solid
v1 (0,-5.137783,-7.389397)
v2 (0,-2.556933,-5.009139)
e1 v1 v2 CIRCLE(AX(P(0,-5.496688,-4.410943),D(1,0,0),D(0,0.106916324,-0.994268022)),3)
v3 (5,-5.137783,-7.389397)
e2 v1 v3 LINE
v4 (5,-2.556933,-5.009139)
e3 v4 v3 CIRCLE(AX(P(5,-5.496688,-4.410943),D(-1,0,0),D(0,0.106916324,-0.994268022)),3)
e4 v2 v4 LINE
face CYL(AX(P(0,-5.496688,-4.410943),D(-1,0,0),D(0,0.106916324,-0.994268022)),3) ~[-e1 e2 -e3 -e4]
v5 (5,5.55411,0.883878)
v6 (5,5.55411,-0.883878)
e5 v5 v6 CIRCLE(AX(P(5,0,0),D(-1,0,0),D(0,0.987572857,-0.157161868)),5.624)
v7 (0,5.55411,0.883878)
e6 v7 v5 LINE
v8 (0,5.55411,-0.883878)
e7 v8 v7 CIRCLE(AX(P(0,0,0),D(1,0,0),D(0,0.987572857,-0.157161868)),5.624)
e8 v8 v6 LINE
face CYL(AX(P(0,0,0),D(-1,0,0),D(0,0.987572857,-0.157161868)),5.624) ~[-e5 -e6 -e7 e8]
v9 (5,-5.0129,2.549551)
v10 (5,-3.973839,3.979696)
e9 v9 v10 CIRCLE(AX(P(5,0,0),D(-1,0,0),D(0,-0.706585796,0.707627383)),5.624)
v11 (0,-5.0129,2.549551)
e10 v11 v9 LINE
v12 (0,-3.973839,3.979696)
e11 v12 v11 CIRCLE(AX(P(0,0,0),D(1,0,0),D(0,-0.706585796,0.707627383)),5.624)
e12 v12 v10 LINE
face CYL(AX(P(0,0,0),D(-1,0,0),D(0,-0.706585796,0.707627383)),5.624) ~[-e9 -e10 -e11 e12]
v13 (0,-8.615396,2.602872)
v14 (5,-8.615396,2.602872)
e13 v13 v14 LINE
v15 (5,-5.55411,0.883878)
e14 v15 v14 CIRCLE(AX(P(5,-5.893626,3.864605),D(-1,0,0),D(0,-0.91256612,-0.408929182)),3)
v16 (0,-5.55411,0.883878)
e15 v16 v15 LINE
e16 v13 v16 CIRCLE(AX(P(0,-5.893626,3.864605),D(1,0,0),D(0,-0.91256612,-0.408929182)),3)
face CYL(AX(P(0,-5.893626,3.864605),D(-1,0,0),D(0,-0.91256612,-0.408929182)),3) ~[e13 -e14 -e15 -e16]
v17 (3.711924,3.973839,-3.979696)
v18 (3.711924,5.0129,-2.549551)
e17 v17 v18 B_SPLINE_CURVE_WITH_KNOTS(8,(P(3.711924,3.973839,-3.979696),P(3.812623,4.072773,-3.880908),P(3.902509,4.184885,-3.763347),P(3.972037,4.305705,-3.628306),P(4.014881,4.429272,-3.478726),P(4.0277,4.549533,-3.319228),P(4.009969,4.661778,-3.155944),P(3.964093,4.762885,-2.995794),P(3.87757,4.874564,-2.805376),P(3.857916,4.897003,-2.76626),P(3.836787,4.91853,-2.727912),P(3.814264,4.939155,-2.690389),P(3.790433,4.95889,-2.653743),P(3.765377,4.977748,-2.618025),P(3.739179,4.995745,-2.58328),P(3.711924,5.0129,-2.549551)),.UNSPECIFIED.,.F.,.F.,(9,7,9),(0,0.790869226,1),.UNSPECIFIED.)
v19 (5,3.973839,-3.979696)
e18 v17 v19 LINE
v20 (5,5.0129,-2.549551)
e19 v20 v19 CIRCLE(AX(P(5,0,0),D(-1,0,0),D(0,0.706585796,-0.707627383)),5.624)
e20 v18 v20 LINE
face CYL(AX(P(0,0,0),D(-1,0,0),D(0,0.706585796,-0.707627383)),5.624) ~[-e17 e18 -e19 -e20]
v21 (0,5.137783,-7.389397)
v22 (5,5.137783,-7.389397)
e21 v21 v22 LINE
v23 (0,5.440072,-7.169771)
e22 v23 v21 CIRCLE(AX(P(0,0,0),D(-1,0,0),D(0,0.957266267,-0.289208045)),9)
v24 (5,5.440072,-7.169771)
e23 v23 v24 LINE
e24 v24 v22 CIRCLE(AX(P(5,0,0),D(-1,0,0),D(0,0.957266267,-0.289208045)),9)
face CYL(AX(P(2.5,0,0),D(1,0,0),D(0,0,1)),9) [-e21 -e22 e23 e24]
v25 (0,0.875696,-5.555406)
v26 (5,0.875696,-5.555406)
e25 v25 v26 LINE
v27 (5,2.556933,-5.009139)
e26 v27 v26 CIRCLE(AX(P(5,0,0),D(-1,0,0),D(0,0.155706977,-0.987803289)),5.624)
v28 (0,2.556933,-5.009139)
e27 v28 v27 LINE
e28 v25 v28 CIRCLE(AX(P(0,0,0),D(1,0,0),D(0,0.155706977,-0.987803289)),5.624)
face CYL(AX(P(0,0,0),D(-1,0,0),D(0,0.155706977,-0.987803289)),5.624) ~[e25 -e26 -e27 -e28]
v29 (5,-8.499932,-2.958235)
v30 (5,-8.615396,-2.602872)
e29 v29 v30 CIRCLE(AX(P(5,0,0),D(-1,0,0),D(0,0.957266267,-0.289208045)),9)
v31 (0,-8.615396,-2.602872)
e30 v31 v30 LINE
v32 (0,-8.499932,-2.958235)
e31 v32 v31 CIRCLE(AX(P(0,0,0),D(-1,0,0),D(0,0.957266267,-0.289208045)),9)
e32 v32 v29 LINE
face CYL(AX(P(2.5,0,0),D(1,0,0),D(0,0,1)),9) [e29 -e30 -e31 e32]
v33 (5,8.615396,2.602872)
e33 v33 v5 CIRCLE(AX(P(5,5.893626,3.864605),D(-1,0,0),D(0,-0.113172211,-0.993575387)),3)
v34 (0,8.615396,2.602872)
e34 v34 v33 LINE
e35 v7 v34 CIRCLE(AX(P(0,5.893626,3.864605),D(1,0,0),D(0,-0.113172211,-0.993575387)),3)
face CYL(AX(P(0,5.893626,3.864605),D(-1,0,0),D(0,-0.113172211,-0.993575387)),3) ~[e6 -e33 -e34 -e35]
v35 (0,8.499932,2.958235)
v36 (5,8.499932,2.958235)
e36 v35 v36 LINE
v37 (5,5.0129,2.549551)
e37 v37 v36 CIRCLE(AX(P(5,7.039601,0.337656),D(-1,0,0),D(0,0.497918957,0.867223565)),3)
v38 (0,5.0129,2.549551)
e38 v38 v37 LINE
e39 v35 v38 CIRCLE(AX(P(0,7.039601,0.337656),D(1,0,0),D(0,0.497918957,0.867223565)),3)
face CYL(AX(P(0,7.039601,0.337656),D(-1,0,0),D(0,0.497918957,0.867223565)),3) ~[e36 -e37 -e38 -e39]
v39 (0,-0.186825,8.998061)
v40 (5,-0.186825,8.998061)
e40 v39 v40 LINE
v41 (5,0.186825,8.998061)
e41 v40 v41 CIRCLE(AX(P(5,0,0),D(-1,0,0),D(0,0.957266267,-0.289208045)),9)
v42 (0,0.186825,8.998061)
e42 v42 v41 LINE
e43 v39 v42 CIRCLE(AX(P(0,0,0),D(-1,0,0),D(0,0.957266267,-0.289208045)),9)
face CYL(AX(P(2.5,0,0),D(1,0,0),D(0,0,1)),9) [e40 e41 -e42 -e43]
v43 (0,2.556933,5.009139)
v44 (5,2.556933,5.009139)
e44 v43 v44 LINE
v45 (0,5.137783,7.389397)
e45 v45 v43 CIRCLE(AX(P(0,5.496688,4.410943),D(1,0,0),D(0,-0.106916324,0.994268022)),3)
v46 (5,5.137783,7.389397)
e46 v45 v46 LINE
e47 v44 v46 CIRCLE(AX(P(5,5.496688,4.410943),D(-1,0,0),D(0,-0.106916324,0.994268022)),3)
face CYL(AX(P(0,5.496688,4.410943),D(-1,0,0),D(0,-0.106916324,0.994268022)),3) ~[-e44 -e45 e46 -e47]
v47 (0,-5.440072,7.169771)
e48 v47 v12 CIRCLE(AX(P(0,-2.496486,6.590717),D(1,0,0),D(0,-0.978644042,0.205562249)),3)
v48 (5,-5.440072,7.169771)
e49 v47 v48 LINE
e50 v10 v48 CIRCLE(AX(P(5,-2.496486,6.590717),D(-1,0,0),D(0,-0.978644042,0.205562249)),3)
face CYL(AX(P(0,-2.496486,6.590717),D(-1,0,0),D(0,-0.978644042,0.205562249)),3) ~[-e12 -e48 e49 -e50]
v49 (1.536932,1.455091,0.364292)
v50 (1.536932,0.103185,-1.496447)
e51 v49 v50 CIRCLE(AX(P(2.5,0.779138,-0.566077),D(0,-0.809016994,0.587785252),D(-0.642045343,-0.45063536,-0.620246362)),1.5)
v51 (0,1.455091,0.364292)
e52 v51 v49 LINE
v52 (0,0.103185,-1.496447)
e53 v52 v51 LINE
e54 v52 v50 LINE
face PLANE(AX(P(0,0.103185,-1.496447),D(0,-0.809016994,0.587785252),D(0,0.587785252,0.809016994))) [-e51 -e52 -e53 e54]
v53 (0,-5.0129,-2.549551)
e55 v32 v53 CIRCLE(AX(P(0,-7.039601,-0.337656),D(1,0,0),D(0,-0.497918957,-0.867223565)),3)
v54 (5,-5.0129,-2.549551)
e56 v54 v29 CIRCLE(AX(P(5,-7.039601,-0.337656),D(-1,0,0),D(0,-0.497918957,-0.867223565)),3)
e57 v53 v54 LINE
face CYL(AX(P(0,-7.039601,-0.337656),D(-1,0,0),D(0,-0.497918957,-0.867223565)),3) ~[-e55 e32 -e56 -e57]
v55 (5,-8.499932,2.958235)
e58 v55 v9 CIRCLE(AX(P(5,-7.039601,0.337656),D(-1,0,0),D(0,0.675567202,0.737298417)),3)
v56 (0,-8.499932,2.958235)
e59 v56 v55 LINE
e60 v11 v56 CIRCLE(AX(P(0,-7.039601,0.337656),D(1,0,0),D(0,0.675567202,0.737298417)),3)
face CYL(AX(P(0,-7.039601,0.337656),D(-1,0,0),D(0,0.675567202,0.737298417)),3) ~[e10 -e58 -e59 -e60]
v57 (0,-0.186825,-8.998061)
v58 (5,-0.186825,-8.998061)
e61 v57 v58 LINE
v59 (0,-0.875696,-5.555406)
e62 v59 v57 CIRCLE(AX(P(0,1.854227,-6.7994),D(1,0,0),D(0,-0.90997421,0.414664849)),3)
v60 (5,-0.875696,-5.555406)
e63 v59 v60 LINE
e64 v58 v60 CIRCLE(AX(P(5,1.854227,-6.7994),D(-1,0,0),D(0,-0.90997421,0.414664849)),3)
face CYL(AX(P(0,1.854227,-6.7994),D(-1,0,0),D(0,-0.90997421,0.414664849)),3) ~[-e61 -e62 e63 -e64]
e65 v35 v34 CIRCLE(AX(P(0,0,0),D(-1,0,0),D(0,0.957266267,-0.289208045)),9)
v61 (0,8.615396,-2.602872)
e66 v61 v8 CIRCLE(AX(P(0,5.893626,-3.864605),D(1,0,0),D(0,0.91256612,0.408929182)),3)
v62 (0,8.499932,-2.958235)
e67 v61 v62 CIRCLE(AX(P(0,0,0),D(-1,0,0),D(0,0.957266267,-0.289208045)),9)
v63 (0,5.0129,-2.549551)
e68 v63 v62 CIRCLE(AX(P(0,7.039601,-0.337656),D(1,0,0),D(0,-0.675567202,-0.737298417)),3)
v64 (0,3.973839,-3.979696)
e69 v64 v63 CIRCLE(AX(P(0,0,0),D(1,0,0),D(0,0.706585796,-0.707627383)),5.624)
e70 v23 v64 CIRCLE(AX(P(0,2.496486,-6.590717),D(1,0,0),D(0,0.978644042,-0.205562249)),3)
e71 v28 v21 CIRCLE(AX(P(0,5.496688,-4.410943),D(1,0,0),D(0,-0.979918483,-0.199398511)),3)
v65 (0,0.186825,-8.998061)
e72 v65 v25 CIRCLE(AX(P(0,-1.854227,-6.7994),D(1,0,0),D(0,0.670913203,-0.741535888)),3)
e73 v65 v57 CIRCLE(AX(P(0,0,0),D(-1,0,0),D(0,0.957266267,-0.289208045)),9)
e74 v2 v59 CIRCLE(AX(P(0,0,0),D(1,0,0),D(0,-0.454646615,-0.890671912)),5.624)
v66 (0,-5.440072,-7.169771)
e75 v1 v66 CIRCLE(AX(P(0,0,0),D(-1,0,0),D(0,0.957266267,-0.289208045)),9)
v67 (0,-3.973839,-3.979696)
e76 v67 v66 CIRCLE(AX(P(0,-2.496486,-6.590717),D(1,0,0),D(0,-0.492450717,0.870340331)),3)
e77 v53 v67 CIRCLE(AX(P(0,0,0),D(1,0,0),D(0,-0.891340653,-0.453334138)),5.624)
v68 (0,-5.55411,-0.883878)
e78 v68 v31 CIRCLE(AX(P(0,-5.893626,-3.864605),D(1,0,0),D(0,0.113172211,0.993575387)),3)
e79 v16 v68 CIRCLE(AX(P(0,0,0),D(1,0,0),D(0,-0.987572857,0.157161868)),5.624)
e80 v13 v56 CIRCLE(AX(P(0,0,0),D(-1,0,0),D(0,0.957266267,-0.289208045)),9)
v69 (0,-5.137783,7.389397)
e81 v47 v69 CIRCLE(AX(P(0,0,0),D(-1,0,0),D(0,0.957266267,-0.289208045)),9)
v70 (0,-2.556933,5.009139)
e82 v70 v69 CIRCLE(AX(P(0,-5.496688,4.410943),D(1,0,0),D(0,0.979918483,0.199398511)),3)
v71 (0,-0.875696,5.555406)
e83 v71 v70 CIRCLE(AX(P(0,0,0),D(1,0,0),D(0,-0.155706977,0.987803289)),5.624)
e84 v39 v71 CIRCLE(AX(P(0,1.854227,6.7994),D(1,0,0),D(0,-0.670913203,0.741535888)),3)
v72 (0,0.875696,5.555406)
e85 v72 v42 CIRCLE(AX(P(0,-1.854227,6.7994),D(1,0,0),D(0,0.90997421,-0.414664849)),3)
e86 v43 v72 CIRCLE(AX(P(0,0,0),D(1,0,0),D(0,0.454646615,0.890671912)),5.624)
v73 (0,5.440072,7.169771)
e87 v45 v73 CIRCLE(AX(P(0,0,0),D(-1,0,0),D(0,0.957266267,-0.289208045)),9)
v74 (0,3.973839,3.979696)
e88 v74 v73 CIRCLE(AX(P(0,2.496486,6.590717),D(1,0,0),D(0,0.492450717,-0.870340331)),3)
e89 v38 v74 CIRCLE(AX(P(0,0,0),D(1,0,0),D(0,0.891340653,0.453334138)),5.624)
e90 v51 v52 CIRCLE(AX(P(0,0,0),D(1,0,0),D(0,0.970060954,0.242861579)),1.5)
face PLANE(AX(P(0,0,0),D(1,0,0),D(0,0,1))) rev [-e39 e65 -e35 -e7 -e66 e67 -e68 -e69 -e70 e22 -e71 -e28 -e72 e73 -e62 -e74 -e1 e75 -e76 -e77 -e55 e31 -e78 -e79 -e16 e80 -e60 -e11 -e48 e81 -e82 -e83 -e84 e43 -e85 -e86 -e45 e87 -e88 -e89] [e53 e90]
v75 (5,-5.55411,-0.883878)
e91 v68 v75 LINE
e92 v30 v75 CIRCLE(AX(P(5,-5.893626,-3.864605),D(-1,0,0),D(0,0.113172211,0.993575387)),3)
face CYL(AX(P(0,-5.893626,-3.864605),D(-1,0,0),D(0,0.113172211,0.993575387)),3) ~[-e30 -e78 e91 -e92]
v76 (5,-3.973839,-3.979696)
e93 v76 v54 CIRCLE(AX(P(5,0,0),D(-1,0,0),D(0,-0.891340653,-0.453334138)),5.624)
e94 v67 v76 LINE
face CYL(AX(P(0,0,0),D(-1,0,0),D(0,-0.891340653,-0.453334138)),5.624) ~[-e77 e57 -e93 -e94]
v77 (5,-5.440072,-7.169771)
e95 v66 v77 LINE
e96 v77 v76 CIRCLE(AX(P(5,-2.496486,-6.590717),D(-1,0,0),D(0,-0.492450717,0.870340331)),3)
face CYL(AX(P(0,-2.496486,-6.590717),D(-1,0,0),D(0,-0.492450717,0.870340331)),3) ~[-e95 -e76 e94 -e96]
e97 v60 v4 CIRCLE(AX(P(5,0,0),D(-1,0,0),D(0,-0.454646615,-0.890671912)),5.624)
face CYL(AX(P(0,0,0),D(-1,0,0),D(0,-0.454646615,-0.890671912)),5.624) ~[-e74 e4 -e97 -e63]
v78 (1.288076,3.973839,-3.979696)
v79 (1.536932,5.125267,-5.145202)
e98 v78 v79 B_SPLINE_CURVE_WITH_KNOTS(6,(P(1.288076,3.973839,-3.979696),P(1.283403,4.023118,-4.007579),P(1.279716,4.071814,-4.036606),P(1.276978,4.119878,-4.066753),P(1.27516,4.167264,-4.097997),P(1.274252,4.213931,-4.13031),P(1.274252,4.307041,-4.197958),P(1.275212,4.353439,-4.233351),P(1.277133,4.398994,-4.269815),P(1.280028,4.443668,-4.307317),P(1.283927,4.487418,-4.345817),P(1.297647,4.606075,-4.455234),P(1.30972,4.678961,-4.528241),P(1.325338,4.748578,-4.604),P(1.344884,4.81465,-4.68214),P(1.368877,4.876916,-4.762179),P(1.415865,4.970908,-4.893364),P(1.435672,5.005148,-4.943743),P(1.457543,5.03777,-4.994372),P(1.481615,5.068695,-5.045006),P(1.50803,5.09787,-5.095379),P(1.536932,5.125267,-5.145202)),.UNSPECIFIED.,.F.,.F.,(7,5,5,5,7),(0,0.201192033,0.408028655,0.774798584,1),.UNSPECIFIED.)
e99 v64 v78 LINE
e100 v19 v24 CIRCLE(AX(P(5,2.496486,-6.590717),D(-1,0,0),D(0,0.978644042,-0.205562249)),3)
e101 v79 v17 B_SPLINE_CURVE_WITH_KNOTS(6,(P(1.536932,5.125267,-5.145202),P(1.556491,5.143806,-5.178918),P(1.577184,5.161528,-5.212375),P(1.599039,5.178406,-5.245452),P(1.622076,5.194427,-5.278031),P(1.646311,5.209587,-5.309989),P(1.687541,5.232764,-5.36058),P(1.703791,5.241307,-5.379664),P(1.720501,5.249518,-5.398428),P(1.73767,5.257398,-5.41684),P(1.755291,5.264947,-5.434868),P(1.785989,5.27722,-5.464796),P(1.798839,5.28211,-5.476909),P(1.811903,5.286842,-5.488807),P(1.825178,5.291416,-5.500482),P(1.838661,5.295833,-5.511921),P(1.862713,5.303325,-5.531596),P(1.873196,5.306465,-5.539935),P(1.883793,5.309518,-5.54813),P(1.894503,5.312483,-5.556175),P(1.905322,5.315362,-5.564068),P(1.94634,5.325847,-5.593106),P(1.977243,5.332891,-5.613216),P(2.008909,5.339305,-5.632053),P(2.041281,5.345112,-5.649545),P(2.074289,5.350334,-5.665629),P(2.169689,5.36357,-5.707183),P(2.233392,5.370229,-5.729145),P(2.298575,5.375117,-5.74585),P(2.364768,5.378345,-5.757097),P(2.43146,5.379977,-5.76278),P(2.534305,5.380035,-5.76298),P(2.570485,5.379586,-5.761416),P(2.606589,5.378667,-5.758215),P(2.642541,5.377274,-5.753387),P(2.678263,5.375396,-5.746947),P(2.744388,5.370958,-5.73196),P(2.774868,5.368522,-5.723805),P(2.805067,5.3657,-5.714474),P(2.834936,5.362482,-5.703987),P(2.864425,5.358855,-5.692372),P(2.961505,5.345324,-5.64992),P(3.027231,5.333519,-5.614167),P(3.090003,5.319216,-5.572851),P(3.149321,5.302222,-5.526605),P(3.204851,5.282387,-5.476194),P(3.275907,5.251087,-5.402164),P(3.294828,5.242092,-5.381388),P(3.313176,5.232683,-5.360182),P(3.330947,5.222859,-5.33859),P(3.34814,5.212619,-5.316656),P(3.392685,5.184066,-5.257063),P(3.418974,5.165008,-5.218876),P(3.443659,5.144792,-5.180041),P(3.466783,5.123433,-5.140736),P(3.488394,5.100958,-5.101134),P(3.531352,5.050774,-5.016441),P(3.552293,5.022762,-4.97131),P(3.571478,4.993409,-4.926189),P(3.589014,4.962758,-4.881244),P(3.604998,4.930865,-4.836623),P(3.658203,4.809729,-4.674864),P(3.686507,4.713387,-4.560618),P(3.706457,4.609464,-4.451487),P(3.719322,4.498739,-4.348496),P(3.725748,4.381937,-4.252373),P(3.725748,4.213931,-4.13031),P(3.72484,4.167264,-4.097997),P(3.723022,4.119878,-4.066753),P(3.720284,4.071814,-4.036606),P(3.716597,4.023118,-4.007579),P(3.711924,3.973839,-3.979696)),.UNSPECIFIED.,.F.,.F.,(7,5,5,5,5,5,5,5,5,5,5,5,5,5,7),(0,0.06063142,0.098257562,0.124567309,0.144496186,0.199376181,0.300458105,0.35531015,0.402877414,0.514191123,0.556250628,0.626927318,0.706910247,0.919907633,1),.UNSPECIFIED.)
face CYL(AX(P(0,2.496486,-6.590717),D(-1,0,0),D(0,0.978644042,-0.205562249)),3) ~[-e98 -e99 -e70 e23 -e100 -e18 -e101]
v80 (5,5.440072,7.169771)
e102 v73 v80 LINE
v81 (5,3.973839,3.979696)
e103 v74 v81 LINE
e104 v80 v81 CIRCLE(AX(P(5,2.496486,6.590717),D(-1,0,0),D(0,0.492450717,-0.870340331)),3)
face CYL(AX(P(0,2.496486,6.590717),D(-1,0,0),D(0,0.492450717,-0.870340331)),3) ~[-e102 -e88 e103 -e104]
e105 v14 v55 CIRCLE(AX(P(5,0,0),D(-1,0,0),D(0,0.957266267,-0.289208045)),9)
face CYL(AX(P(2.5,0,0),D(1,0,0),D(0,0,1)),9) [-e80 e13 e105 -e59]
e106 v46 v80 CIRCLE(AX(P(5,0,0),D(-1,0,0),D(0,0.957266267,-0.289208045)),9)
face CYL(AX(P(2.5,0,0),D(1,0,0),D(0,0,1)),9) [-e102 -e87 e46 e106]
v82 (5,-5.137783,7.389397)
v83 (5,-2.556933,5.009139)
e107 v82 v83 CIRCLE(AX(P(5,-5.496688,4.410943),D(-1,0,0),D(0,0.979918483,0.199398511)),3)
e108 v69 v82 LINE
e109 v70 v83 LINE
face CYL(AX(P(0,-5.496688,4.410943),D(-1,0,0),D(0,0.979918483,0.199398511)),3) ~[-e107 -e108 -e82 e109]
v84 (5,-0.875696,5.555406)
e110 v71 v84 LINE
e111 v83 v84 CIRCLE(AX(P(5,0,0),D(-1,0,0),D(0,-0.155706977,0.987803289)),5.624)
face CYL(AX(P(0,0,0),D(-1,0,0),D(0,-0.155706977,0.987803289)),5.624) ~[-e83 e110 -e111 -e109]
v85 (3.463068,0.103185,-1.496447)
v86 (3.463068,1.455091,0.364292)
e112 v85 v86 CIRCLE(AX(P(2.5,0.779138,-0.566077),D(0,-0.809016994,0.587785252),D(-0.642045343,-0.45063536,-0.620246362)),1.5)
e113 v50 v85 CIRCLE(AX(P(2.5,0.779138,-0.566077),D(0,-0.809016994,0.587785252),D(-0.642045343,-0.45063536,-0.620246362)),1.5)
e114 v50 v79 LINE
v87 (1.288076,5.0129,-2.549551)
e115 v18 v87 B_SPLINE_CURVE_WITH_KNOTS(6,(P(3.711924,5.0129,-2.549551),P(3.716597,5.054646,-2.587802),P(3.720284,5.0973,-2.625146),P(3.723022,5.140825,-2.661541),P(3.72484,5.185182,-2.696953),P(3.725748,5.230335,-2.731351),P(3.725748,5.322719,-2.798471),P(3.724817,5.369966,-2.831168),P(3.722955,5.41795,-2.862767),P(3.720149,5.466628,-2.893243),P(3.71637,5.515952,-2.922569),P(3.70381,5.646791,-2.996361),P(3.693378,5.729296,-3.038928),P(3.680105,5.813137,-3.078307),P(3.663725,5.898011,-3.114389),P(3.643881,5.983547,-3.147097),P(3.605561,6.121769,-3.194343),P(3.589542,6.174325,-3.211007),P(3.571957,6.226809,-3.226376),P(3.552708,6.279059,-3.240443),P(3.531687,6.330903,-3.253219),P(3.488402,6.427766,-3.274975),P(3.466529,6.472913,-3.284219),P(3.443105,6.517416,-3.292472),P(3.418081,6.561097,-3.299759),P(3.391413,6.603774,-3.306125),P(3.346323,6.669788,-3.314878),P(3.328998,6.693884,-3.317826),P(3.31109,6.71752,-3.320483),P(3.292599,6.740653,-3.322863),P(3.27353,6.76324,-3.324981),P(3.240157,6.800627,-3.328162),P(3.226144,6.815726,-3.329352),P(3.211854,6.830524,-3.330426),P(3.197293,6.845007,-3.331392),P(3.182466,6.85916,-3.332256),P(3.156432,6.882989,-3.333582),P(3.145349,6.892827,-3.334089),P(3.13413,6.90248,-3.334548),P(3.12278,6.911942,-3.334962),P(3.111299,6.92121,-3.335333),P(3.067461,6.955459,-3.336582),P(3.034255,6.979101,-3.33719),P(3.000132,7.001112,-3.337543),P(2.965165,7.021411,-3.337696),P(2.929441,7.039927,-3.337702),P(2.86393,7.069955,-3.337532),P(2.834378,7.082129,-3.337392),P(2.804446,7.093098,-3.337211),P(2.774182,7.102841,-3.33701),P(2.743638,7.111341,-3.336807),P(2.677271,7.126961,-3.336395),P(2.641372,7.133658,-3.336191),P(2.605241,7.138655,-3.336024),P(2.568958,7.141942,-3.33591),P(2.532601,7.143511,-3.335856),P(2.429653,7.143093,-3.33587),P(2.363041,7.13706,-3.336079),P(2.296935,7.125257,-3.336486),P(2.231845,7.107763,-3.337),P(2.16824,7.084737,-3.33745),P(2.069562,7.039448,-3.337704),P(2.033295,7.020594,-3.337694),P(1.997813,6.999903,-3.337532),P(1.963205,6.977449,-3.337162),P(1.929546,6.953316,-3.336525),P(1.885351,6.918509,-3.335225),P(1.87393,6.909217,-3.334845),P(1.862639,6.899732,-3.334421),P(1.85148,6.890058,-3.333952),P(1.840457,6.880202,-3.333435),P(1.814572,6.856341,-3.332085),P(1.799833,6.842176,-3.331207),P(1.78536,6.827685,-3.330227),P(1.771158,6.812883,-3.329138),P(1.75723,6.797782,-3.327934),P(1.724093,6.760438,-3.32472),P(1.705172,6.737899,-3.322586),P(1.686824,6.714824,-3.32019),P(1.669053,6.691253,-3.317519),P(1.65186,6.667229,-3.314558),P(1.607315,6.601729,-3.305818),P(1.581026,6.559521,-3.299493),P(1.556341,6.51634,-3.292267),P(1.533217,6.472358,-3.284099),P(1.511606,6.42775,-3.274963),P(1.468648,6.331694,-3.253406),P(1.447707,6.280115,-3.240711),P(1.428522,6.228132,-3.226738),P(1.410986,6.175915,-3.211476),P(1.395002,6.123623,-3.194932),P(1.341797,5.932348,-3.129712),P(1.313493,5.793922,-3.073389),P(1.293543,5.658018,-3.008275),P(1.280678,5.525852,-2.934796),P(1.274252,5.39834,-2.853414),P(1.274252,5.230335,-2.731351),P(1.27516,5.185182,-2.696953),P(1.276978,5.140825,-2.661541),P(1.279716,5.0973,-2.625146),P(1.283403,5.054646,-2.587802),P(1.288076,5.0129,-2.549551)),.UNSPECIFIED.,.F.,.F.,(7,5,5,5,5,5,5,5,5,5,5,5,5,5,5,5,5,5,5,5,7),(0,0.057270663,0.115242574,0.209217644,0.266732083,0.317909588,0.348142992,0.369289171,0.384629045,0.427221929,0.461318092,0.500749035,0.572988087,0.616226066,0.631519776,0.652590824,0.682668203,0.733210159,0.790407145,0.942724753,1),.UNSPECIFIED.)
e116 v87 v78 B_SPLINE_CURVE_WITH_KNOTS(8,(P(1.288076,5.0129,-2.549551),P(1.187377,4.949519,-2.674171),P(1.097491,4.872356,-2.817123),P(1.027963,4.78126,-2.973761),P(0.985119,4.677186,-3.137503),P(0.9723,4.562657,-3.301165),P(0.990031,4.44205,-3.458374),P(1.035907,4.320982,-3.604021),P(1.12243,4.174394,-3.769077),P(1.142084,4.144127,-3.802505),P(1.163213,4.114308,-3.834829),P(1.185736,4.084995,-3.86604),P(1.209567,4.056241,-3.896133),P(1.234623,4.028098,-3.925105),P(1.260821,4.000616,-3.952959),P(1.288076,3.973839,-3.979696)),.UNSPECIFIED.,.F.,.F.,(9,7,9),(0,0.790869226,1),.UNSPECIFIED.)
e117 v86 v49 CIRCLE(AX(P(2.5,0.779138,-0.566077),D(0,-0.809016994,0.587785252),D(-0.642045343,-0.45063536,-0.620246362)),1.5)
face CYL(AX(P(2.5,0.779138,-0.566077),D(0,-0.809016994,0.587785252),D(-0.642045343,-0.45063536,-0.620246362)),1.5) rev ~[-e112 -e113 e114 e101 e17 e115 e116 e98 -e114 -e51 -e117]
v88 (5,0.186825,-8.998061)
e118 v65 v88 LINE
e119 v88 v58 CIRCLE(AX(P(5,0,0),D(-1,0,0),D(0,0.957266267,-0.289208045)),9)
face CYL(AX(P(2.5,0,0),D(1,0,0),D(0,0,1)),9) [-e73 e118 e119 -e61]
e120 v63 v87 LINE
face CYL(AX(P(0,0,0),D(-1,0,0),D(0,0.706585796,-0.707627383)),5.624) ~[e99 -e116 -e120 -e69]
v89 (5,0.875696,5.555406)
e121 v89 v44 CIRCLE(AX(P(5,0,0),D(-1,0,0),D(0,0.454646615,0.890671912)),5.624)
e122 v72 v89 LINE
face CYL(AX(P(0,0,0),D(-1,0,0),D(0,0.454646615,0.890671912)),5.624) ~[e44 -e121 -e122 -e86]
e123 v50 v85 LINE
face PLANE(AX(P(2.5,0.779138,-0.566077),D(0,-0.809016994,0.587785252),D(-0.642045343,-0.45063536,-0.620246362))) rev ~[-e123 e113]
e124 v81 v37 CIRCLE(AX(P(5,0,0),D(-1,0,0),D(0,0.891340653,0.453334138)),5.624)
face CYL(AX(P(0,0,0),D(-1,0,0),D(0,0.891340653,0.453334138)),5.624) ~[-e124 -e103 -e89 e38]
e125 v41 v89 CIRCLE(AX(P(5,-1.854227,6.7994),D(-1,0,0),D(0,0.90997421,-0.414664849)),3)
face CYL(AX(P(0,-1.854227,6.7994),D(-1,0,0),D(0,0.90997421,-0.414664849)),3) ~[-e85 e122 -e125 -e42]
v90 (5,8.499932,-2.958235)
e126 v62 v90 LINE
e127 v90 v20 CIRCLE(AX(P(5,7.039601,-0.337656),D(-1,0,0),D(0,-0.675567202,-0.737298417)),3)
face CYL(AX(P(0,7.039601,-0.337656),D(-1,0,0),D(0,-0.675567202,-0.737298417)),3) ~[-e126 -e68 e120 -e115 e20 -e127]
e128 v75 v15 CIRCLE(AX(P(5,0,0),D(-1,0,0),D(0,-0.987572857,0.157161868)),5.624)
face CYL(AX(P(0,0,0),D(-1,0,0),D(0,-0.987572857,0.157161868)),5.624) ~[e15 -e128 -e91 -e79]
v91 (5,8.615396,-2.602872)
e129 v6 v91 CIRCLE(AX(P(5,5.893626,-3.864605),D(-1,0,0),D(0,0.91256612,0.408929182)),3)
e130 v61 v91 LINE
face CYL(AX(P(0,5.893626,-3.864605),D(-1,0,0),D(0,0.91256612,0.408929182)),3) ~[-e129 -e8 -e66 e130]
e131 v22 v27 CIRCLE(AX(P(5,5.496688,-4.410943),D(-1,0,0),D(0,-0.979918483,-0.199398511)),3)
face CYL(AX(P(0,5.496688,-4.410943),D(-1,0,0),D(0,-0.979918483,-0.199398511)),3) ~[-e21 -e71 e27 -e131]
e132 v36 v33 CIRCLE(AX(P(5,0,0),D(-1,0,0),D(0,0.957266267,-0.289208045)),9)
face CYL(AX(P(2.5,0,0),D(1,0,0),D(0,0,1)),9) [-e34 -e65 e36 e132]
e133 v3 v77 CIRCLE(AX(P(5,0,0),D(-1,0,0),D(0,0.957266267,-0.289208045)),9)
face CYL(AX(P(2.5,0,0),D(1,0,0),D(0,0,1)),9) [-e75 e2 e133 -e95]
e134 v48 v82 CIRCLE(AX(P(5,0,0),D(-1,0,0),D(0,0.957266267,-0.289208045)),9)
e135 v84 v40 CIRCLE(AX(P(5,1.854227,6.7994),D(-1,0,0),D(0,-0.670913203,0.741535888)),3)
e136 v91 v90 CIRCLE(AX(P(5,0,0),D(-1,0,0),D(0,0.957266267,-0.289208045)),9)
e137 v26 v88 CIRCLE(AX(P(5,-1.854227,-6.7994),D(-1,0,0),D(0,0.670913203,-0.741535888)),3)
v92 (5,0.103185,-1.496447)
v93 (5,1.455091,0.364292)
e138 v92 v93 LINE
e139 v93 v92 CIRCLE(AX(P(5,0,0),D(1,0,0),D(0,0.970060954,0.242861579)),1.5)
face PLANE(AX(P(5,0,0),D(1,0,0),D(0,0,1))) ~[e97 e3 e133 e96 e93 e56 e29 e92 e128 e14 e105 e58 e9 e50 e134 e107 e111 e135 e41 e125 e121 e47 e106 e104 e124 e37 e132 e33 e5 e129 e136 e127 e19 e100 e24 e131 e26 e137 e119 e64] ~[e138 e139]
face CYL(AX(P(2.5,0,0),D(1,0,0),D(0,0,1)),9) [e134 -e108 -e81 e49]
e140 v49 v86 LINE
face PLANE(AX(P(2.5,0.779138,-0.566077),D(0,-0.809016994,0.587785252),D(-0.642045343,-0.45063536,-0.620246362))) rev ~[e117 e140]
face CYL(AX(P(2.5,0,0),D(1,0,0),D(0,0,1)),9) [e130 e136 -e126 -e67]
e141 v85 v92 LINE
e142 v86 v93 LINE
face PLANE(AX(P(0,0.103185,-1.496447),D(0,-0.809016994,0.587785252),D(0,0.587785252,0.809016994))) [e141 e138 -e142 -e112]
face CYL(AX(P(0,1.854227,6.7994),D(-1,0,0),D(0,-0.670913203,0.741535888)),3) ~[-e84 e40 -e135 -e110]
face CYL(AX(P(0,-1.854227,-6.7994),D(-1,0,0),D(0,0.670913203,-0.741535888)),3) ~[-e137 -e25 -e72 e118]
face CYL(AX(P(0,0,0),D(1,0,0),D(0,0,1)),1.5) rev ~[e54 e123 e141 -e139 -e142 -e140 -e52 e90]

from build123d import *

# Parameters (mm, degrees)
BASPROSKE_W         = 5
BASPROSKE_H         = 9
TOOTHCUT_DEPTH      = 14.674794331
TEETHCUTS_COUNT     = 10
TEETHCUTS_ANGLE     = 324
BORSKE_R            = 1.5
BORE_DEPTH          = 50.0001524
EXTRUDE_1_DEPTH     = 5
SKETCH_3_R          = 1.5
CUT_EXTRUDE_1_DEPTH = 7


with BuildPart() as part:
    # BasProSke → Base-Revolve (revolve)
    with BuildSketch(Plane(origin=(0, 0, 0), x_dir=(1, 0, 0), z_dir=(0, 1, 0)), mode=Mode.PRIVATE) as base_revolve_sk:
        with Locations((2.5, 4.5)):
            Rectangle(BASPROSKE_W, BASPROSKE_H)
    revolve(base_revolve_sk.sketch.rotate(Axis((-10, 0, 0), (1, 0, 0)), 180), axis=Axis((-10, 0, 0), (1, 0, 0)))

    # TooCutSke → ToothCut (cut, through all)
    with BuildSketch(Plane(origin=(0, 0, 0), x_dir=(0, 0, -1), z_dir=(1, 0, 0))):
        with BuildLine():
            ThreePointArc((0.883878355, 5.554109745), (0, 5.624), (-0.883878355, 5.554109745))
            ThreePointArc((-0.883878355, 5.554109745), (-1.258245767, 7.379188248), (-2.637816971, 8.631324741))
            ThreePointArc((-2.637816971, 8.631324741), (0, 9.0254), (2.637816971, 8.631324741))
            ThreePointArc((2.637816971, 8.631324741), (1.258245767, 7.379188248), (0.883878355, 5.554109745))
        make_face()
    toothcut = extrude(amount=TOOTHCUT_DEPTH, mode=Mode.SUBTRACT)

    # TeethCuts: ToothCut ×10 about axis
    teethcuts_axis = Axis((-10, 0, 0), (1, 0, 0))
    for i in range(1, TEETHCUTS_COUNT):
        add(toothcut.rotate(teethcuts_axis, i * TEETHCUTS_ANGLE / (TEETHCUTS_COUNT - 1)), mode=Mode.SUBTRACT)

    # BorSke → Bore (cut, symmetric)
    with BuildSketch(Plane(origin=(0, 0, 0), x_dir=(0, 0, -1), z_dir=(1, 0, 0))):
        with Locations(Location((0, 0, 0), (0, 0, 180))):
            Circle(BORSKE_R)
    extrude(amount=BORE_DEPTH, both=True, mode=Mode.SUBTRACT)

    # 草圖2 → 填料-伸長1 (add, through all)
    with BuildSketch(Plane(origin=(0, 0, 0), x_dir=(0, 0, -1), z_dir=(1, 0, 0))):
        with BuildLine():
            ThreePointArc((-0.364292368, 1.45509143), (0.881677878, 1.213525492), (1.496446719, 0.10318535))
            Line((1.496446719, 0.10318535), (-0.364292368, 1.45509143))
        make_face()
    extrude(amount=EXTRUDE_1_DEPTH)

    # 草圖3 → 除料-伸長1 (cut)
    with BuildSketch(Plane(origin=(0, 0.77913839, -0.566077176), x_dir=(1, 0, 0), z_dir=(0, -0.8090169943749549, 0.5877852522924627))):
        with Locations(Location((2.5, 0, 0), (0, 0, 230.05549481))):
            Circle(SKETCH_3_R)
    extrude(amount=-CUT_EXTRUDE_1_DEPTH, mode=Mode.SUBTRACT)


solid = part.part
